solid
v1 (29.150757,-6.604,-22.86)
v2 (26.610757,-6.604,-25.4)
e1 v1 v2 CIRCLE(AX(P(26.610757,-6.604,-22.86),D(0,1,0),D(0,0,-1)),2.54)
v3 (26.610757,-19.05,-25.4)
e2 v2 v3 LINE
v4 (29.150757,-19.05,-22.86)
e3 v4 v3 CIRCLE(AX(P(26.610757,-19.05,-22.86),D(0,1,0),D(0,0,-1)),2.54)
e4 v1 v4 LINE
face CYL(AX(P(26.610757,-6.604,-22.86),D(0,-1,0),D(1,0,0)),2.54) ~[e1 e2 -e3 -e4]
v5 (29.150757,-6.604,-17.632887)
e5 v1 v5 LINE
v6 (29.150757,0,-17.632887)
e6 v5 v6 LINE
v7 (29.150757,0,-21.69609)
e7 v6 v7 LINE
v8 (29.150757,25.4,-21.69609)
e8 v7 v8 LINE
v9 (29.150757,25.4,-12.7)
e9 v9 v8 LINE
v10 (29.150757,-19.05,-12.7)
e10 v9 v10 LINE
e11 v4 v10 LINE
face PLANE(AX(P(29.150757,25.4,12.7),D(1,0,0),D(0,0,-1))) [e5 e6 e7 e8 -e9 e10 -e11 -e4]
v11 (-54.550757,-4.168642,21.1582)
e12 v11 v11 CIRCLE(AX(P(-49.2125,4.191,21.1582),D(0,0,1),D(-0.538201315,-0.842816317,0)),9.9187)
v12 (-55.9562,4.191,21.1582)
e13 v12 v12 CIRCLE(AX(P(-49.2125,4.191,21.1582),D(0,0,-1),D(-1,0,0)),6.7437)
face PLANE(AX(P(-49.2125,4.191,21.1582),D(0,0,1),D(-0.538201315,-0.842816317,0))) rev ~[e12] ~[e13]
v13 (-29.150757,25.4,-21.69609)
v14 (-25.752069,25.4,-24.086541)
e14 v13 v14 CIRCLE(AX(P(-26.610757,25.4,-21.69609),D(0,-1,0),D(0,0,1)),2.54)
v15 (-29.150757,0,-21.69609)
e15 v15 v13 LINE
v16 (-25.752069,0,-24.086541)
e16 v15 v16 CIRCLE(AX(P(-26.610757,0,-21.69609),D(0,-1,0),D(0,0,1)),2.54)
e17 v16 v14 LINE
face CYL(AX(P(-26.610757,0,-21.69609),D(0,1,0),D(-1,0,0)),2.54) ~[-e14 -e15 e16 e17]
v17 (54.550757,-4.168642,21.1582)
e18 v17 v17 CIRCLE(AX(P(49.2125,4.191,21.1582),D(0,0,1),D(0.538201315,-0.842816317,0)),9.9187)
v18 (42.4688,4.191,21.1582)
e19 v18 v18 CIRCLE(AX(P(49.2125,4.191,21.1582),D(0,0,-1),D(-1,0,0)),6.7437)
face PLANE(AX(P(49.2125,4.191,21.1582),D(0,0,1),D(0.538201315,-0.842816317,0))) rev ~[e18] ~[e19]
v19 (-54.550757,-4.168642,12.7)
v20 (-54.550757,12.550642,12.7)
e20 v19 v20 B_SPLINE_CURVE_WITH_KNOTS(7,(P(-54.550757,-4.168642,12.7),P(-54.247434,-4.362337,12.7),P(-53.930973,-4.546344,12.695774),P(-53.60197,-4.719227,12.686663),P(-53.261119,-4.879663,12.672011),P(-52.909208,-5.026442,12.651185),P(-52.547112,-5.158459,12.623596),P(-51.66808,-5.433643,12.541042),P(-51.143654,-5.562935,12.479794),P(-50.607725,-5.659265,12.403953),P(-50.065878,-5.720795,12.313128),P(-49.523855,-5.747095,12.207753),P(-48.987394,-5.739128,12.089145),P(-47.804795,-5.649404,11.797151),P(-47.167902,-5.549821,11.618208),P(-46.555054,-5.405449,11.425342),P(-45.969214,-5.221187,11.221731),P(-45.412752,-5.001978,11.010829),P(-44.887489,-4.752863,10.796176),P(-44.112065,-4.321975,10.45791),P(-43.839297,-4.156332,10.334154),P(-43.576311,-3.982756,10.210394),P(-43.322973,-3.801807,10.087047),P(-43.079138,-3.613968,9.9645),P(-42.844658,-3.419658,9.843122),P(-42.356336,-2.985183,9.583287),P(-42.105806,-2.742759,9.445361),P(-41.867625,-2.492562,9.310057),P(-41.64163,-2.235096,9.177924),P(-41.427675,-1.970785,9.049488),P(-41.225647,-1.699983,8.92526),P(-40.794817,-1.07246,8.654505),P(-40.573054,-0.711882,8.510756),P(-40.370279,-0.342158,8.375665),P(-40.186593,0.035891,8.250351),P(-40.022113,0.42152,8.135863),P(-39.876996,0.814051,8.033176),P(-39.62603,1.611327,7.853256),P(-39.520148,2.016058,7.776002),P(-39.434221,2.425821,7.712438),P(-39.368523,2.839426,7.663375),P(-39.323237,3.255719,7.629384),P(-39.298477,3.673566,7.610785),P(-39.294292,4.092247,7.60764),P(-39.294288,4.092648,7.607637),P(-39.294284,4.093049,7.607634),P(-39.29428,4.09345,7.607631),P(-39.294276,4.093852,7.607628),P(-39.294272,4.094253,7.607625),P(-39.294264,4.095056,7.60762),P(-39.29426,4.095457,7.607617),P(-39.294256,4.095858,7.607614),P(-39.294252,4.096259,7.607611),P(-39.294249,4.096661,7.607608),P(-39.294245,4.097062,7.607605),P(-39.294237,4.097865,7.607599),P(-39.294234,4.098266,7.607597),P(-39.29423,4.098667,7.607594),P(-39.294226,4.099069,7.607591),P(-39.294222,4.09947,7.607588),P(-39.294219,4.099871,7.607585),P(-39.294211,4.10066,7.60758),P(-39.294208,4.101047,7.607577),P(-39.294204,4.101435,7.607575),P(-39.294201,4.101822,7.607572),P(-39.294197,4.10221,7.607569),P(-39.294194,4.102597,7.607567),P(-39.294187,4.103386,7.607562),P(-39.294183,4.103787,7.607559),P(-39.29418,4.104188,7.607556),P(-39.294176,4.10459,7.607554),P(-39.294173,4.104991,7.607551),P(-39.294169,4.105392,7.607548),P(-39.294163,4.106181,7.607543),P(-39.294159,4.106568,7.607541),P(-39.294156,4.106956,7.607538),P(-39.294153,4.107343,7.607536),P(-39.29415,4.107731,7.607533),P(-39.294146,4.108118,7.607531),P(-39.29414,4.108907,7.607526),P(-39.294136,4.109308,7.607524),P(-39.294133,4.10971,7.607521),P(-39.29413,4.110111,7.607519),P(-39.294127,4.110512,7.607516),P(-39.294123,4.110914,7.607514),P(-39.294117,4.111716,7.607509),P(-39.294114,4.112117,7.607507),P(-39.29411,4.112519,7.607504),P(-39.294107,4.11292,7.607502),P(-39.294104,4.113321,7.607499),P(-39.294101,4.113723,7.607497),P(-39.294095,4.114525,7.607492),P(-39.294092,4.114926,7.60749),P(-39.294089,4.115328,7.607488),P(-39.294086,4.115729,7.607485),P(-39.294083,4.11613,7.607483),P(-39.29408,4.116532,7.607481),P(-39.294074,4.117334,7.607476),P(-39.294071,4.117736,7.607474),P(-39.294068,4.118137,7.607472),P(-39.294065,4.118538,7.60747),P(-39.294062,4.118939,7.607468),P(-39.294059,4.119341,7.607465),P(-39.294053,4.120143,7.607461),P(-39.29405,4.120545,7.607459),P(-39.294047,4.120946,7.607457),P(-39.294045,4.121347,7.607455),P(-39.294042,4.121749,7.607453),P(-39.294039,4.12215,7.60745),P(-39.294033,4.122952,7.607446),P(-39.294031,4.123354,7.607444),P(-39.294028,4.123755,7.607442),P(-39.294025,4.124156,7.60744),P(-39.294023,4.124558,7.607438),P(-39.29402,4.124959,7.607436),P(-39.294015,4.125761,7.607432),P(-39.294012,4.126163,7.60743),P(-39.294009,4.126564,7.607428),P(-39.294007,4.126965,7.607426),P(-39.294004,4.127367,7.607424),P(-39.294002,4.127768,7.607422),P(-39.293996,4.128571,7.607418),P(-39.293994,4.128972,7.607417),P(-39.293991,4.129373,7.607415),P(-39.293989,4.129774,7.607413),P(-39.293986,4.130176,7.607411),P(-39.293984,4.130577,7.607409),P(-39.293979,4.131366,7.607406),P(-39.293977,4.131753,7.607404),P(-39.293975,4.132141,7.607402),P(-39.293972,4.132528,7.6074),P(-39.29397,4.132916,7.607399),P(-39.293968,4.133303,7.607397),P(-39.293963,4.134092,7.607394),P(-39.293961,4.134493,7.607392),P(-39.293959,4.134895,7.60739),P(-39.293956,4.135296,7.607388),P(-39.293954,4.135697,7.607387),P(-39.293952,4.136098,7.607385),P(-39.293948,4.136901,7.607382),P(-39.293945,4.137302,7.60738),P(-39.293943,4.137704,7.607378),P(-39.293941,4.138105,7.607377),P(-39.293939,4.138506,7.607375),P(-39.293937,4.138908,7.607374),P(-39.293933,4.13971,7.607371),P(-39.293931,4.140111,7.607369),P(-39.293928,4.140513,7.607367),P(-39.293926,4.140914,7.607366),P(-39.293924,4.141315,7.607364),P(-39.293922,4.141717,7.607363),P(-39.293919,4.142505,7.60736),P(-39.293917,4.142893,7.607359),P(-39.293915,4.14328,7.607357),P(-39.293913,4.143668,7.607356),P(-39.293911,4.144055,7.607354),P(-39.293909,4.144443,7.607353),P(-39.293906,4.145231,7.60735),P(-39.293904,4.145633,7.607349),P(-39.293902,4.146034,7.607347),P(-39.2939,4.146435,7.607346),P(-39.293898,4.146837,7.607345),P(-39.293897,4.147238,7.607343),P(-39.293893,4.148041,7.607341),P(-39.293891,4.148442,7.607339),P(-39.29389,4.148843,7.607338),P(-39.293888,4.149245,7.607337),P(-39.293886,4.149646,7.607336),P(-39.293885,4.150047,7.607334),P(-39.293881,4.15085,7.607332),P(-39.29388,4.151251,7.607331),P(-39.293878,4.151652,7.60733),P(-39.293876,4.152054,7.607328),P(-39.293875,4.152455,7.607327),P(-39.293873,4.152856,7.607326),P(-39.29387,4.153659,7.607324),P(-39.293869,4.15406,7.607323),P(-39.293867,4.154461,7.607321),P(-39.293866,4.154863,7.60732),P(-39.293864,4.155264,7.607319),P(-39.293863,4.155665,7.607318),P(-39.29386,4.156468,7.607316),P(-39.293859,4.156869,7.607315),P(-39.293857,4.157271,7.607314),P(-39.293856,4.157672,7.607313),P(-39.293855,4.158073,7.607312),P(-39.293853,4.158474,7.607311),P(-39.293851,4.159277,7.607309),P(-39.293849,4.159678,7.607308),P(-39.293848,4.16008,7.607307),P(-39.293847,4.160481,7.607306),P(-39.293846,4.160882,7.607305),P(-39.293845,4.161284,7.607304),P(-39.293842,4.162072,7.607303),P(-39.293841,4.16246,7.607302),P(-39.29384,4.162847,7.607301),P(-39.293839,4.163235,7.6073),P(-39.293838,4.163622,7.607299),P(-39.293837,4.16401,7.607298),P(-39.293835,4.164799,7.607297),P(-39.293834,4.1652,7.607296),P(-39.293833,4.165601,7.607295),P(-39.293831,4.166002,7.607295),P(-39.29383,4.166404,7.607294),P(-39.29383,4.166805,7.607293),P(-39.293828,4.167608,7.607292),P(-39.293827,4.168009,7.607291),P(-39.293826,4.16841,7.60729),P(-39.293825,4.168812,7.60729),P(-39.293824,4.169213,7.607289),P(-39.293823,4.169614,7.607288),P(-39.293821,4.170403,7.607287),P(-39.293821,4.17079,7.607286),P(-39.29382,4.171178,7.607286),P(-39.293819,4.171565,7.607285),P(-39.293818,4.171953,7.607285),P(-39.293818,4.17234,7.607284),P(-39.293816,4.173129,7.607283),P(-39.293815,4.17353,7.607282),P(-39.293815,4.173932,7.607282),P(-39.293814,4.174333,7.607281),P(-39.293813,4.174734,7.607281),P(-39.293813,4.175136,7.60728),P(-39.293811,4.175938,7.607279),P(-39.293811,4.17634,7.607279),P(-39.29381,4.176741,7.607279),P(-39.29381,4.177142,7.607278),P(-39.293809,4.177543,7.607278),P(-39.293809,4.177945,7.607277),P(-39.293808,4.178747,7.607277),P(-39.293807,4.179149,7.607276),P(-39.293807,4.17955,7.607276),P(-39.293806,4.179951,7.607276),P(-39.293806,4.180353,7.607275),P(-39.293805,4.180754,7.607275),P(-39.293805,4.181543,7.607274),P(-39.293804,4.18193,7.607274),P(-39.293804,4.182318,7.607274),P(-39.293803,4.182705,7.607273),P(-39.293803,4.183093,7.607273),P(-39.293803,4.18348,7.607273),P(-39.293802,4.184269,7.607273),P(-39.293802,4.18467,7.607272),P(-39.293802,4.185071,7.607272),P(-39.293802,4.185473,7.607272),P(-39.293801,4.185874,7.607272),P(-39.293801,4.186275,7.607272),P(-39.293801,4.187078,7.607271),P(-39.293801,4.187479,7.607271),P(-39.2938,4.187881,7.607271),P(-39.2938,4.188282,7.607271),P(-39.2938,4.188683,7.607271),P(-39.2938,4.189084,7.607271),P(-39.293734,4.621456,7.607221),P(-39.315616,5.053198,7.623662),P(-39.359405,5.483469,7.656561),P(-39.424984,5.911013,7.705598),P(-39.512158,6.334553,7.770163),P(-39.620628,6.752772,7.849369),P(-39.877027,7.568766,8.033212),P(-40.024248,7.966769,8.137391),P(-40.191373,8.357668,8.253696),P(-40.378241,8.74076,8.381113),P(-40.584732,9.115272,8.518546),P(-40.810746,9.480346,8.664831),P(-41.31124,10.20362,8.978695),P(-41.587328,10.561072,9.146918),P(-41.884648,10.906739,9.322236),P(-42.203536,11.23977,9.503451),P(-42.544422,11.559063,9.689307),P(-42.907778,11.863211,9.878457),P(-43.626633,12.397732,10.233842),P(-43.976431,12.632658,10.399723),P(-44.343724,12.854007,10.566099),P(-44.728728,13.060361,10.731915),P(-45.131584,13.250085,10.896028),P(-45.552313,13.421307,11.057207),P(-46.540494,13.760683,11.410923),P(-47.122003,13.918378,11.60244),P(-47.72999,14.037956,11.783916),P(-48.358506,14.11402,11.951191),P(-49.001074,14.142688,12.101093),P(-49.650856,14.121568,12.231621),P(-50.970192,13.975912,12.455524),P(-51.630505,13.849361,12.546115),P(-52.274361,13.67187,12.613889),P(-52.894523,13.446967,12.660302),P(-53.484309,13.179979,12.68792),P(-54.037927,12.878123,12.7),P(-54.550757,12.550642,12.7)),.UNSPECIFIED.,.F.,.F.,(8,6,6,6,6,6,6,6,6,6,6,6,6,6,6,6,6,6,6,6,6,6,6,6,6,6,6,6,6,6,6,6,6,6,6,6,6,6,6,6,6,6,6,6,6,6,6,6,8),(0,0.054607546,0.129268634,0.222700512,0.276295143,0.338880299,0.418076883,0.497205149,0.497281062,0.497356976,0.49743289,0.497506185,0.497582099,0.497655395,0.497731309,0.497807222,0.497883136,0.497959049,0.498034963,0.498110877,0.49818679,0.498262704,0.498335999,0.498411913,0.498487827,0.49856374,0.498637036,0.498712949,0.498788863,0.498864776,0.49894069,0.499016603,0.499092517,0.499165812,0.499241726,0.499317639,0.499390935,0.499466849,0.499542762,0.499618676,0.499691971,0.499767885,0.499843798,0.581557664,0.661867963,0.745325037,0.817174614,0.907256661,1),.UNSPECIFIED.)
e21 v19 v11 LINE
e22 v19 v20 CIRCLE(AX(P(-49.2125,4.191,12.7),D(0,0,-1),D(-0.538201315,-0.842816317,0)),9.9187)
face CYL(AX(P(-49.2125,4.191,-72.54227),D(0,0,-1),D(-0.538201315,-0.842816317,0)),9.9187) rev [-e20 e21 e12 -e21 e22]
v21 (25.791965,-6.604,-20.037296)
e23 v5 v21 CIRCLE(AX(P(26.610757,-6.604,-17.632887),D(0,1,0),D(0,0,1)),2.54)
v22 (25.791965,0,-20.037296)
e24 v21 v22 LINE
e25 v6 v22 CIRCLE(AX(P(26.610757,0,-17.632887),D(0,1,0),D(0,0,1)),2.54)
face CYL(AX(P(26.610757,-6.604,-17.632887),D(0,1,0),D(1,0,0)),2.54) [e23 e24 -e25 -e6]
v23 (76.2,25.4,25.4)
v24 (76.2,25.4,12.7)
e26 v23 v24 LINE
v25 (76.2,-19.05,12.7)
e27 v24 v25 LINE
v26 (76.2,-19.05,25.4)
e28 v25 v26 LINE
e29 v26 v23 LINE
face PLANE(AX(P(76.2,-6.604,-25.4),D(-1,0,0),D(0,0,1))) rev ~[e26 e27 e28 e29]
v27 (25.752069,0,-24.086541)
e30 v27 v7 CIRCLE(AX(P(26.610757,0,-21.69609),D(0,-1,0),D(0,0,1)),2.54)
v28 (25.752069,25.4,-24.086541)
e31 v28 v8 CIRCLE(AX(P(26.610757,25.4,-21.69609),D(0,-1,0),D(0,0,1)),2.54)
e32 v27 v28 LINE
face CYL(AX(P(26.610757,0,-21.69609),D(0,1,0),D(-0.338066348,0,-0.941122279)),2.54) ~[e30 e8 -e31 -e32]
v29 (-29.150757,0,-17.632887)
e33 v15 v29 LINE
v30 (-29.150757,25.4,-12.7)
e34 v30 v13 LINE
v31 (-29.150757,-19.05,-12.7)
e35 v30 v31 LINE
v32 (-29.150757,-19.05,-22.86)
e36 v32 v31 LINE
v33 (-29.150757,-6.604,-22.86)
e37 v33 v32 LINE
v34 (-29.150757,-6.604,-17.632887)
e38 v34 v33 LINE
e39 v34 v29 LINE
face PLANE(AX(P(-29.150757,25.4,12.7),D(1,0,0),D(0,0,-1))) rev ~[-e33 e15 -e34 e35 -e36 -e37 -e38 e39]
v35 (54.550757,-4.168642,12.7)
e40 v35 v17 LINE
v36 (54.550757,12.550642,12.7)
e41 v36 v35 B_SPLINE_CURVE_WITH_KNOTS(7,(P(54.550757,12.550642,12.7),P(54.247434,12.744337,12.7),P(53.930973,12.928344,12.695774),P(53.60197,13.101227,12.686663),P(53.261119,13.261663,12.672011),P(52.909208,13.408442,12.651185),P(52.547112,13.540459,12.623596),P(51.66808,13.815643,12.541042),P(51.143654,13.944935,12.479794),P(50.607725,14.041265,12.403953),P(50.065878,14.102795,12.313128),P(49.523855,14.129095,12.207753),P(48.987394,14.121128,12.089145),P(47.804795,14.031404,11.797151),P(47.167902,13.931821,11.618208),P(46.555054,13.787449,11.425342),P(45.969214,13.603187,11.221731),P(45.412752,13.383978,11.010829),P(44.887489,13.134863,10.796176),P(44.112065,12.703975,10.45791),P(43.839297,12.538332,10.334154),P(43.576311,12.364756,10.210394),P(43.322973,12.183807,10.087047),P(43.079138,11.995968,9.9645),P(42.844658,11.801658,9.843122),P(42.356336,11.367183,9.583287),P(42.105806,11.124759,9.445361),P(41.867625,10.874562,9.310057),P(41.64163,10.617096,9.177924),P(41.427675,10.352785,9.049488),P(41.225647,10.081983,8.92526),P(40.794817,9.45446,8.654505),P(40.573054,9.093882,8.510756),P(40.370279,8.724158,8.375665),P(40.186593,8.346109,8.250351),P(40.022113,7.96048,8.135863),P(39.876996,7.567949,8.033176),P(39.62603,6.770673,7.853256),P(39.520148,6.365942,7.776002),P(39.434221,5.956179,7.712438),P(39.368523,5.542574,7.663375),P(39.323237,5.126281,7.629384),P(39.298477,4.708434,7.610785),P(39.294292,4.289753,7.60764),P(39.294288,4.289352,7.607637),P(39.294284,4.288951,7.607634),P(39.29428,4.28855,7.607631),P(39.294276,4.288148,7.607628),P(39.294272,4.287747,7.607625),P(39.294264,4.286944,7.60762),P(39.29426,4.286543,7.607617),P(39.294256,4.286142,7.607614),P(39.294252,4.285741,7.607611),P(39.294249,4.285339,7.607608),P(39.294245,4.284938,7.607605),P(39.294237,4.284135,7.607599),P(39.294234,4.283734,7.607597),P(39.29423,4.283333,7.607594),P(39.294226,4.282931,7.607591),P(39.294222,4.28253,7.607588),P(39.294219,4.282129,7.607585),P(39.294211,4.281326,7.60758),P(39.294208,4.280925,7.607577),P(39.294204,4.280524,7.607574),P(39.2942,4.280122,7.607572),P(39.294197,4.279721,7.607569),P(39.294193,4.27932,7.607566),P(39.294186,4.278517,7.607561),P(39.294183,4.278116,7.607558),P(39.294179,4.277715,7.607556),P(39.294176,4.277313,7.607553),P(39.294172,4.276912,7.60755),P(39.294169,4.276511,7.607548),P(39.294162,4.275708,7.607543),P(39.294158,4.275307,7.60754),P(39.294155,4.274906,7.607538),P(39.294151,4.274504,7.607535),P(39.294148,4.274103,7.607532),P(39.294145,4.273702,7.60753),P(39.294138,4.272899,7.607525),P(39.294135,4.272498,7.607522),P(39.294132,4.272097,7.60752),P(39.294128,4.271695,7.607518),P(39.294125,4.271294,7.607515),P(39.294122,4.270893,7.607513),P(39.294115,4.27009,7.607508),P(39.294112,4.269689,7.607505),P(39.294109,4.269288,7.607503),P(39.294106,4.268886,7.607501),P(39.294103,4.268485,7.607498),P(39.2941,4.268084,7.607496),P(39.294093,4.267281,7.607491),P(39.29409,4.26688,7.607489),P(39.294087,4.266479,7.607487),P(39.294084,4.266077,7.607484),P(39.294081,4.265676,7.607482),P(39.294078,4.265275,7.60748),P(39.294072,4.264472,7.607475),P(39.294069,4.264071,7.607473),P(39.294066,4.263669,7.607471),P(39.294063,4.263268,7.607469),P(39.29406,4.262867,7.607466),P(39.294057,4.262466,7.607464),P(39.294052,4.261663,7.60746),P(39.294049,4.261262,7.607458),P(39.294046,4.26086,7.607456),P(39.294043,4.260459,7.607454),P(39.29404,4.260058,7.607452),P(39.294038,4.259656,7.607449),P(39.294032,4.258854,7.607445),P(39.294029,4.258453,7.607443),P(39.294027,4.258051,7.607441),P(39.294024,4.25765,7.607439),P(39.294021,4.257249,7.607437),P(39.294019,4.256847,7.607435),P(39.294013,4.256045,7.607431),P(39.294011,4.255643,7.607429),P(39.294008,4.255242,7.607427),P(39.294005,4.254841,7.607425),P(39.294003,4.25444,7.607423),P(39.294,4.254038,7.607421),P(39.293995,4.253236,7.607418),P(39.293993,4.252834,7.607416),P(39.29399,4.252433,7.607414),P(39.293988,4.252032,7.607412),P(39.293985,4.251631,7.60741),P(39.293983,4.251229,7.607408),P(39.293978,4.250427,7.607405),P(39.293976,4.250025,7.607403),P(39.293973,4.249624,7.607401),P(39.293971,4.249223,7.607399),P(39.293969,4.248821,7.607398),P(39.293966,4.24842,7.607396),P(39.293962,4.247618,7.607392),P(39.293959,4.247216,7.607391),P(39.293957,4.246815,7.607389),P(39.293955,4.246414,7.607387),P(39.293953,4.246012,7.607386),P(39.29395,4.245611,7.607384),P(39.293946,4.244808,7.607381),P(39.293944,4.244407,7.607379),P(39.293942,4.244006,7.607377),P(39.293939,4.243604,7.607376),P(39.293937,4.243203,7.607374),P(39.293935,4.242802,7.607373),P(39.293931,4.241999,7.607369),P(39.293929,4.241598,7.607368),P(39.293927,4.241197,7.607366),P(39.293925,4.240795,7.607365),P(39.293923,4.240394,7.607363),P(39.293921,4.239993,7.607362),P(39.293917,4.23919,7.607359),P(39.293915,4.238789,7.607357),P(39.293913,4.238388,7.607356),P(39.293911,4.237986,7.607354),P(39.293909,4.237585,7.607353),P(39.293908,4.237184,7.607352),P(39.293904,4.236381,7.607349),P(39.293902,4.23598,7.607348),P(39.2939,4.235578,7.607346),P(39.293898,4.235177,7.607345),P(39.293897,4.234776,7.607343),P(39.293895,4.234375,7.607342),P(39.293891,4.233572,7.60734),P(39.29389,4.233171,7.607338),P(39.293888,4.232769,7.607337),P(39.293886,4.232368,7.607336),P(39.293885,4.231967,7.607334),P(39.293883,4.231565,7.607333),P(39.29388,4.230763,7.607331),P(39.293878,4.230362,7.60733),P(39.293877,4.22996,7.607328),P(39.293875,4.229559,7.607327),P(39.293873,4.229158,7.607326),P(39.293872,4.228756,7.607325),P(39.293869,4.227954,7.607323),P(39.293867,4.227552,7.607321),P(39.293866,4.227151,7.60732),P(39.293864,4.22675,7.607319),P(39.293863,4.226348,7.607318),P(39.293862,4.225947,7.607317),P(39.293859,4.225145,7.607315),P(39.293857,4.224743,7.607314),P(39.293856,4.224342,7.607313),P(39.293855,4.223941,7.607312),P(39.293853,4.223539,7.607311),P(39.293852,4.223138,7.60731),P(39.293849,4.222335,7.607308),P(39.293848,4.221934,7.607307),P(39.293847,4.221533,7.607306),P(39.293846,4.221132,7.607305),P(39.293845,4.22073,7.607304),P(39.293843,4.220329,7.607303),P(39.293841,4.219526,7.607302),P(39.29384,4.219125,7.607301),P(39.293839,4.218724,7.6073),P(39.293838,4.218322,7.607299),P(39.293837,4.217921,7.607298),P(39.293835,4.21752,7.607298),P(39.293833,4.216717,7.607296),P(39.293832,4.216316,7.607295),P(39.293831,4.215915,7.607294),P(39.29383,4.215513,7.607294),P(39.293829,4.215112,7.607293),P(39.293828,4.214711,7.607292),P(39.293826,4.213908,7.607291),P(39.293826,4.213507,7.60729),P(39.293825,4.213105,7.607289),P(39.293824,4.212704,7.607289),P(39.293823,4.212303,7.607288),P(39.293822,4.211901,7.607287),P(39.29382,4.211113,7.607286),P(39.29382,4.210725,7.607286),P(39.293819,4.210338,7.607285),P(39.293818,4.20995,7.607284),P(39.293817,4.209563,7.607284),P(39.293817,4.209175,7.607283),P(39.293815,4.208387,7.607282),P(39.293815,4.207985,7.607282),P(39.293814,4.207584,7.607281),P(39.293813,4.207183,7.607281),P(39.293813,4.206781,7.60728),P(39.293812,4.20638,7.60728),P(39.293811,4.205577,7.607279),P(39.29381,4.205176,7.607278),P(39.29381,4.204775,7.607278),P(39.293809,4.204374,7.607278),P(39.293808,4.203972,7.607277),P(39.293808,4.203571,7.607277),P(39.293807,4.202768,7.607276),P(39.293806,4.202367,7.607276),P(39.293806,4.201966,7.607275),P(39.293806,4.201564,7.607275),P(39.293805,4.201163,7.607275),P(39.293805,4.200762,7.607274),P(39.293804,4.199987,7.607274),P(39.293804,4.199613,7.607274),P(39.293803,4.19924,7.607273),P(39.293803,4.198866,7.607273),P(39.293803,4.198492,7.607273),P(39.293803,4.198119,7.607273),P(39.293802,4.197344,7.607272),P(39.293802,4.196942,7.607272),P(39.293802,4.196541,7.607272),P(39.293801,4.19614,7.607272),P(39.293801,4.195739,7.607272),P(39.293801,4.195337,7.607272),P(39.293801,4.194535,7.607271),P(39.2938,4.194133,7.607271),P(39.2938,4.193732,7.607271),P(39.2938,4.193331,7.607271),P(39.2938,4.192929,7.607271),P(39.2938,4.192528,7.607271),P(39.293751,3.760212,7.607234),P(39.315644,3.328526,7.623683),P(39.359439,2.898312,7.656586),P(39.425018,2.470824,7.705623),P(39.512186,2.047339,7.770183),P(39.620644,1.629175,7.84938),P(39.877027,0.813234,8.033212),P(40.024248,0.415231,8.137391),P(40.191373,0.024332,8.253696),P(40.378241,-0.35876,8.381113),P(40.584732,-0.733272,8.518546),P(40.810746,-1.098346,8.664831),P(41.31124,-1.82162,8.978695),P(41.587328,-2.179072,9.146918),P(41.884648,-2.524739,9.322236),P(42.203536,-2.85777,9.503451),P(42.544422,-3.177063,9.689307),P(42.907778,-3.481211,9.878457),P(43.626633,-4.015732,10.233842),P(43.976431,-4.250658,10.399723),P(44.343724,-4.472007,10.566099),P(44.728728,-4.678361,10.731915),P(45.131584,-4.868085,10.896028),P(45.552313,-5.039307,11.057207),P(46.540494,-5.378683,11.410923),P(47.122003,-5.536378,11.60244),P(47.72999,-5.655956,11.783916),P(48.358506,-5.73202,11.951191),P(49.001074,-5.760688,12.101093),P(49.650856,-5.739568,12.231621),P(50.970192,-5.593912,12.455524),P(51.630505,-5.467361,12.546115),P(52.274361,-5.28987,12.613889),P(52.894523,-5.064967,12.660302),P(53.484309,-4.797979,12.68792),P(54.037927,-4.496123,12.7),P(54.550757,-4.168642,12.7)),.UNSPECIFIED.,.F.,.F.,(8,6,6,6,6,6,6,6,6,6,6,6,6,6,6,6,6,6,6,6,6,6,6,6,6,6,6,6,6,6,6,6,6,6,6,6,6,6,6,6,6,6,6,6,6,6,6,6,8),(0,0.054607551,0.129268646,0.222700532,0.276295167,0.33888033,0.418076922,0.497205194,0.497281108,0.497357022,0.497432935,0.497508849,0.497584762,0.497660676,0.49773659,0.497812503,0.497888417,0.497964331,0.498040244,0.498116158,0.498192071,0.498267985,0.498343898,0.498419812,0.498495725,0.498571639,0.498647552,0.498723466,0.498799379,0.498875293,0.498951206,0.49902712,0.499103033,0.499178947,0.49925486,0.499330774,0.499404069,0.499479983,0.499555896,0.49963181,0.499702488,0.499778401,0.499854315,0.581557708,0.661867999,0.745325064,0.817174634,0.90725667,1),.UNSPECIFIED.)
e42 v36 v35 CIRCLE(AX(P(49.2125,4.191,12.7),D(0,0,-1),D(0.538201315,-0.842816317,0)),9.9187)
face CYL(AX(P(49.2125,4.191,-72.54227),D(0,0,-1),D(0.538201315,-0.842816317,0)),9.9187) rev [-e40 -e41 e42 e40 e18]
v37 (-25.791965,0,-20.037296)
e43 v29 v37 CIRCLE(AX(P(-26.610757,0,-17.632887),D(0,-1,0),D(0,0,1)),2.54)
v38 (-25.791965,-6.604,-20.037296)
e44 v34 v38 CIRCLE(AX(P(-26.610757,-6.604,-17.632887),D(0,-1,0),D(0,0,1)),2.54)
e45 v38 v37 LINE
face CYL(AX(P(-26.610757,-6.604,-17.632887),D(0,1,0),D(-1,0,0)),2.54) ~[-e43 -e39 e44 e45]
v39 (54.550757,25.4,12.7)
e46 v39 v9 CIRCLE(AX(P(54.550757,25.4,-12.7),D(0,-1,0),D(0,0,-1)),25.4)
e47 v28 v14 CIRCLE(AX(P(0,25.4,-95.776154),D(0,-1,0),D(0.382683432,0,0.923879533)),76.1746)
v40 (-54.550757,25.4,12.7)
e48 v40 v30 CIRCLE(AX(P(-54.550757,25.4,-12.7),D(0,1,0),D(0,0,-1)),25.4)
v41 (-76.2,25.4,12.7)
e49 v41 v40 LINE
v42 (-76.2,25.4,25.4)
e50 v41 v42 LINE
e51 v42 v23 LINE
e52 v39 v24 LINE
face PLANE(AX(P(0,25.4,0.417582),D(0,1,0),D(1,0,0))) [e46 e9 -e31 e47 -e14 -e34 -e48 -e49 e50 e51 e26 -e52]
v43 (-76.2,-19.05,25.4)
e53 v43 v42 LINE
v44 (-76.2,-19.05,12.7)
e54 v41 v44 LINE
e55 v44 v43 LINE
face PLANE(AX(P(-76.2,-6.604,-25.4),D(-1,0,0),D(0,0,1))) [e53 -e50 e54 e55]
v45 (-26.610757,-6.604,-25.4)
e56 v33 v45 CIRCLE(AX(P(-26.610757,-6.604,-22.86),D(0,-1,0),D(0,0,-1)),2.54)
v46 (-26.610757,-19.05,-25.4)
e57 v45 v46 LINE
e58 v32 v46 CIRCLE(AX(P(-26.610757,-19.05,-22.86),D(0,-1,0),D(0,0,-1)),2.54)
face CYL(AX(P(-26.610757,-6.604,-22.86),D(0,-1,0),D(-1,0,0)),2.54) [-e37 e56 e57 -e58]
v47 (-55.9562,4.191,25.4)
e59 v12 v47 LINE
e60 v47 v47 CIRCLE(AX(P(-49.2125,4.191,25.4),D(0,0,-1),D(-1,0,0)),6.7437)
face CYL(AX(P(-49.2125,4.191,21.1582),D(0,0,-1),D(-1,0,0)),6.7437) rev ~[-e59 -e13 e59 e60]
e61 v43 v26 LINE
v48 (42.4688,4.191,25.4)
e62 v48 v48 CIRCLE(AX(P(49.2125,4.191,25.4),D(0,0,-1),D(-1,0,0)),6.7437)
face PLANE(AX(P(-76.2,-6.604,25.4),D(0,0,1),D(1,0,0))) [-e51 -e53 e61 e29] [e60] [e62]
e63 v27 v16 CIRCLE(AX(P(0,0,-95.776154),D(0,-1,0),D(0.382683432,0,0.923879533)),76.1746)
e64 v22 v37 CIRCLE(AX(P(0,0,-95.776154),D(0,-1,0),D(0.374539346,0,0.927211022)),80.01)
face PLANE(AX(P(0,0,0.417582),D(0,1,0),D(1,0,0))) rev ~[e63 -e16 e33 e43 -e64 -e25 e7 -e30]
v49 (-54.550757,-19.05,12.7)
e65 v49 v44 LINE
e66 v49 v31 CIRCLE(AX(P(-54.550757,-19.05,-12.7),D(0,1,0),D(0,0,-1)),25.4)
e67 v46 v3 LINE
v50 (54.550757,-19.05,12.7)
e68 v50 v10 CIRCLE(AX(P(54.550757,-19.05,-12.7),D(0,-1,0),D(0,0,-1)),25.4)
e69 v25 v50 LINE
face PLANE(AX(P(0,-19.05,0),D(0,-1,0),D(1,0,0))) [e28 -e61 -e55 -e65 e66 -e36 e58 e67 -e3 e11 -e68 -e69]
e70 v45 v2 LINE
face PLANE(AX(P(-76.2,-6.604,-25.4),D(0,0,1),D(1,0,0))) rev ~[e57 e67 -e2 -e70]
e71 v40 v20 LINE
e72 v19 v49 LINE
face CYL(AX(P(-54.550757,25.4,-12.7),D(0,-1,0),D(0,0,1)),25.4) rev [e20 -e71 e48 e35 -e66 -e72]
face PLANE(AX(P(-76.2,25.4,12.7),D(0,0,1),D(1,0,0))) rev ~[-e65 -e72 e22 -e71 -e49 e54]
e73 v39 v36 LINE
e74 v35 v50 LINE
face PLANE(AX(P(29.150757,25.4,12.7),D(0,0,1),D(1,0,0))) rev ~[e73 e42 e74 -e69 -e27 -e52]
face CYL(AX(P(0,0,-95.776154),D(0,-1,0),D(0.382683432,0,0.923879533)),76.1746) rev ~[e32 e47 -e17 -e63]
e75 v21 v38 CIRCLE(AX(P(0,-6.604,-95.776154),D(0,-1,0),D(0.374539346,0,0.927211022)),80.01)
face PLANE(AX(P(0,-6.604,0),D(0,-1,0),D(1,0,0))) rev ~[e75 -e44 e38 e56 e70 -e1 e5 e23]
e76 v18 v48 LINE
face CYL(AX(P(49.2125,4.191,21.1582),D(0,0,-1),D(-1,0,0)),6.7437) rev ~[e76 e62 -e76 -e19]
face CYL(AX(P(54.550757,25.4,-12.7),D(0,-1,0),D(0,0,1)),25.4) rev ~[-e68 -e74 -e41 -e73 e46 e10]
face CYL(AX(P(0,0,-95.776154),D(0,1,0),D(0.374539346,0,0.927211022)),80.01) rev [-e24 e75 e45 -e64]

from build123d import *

# Parameters (mm, degrees)
BOSS_EXTRUDE1_DEPTH     = 25.4
BOSS_EXTRUDE2_DEPTH     = 6.604
SKETCH3_W               = 152.4
SKETCH3_H               = 50.8
BOSS_EXTRUDE3_DEPTH     = 12.446
SKETCH5_W               = 47.049242613
SKETCH5_H               = 38.1
CUT_EXTRUDE1_DEPTH      = 92.800885072
FILLET1_R               = 2.54
FILLET2_R               = 25.4
CUT_EXTRUDE2_DEPTH      = 8.4582
CUT_EXTRUDE2_DEPTH_BACK = 85.242269675
CUT_EXTRUDE2_START      = 12.7
SKETCH6_R               = 9.9187
SKETCH7_R               = 6.7437
CUT_EXTRUDE3_DEPTH      = 93.840002113


with BuildPart() as part:
    # Sketch1 → Boss-Extrude1 (new body)
    with BuildSketch(Plane(origin=(0, 0, 0), x_dir=(1, 0, 0), z_dir=(0, 1, 0))):
        with BuildLine():
            Line((76.2, -25.4), (76.2, 25.4))
            Line((76.2, 25.4), (29.150757387, 25.4))
            ThreePointArc((29.150757387, 25.4), (0, 19.601553837), (-29.150757387, 25.4))
            Line((-29.150757387, 25.4), (-76.2, 25.4))
            Line((-76.2, 25.4), (-76.2, -25.4))
            Line((-76.2, -25.4), (76.2, -25.4))
        make_face()
    extrude(amount=BOSS_EXTRUDE1_DEPTH)

    # Sketch2 → Boss-Extrude2 (add)
    with BuildSketch(Plane.XZ):
        with BuildLine():
            Line((-76.2, 25.4), (76.2, 25.4))
            Line((76.2, 25.4), (76.2, -21.59))
            Line((76.2, -21.59), (29.966893046, -21.59))
            ThreePointArc((29.966893046, -21.59), (0, -15.766153837), (-29.966893046, -21.59))
            Line((-29.966893046, -21.59), (-76.2, -21.59))
            Line((-76.2, -21.59), (-76.2, 25.4))
        make_face()
    extrude(amount=BOSS_EXTRUDE2_DEPTH)

    # Sketch3 → Boss-Extrude3 (add)
    with BuildSketch(Plane.XZ.offset(6.604)):
        Rectangle(SKETCH3_W, SKETCH3_H)
    extrude(amount=BOSS_EXTRUDE3_DEPTH)

    # Sketch5 → Cut-Extrude1 (cut, through all)
    with BuildSketch(Plane(origin=(0, 25.4, 0), x_dir=(1, 0, 0), z_dir=(0, 1, 0))):
        with Locations((-52.675378694, 6.35)):
            Rectangle(SKETCH5_W, SKETCH5_H)
        with Locations((52.675378694, 6.35)):
            Rectangle(SKETCH5_W, SKETCH5_H)
    extrude(amount=-CUT_EXTRUDE1_DEPTH, mode=Mode.SUBTRACT)

    # Fillet1
    fillet1_edges = [part.edges().sort_by_distance(p)[0] for p in [
        (29.150757387, 12.7, -25.4),
        (-29.150757387, 12.7, -25.4),
        (-29.150757387, -12.827, -25.4),
        (-29.150757387, -3.302, -21.265527456),
        (29.150757387, -12.827, -25.4),
        (29.150757387, -3.302, -21.265527456),
    ]]
    fillet(fillet1_edges, radius=FILLET1_R)

    # Fillet2
    fillet2_edges = [part.edges().sort_by_distance(p)[0] for p in [
        (-29.150757387, 3.175, 12.7),
        (29.150757387, 3.175, 12.7),
    ]]
    fillet(fillet2_edges, radius=FILLET2_R)

    # Sketch6 → Cut-Extrude2 (cut, two sides: drawn at the far end of the back side and taken through both)
    with BuildSketch(Plane.XY.offset(CUT_EXTRUDE2_START - CUT_EXTRUDE2_DEPTH_BACK)):
        with Locations(Location((49.2125, 4.191, 0), (0, 0, 302.561278337))):
            Circle(SKETCH6_R)
        with Locations(Location((-49.2125, 4.191, 0), (0, 0, 237.438721663))):
            Circle(SKETCH6_R)
    extrude(amount=CUT_EXTRUDE2_DEPTH + CUT_EXTRUDE2_DEPTH_BACK, mode=Mode.SUBTRACT)

    # Sketch7 → Cut-Extrude3 (cut, through all)
    with BuildSketch(Plane(origin=(0, 0, 21.1582), x_dir=(-1, 0, 0), z_dir=(0, 0, -1))):
        with Locations((-49.2125, 4.191)):
            Circle(SKETCH7_R)
        with Locations((49.2125, 4.191)):
            Circle(SKETCH7_R)
    extrude(amount=-CUT_EXTRUDE3_DEPTH, mode=Mode.SUBTRACT)


solid = part.part
